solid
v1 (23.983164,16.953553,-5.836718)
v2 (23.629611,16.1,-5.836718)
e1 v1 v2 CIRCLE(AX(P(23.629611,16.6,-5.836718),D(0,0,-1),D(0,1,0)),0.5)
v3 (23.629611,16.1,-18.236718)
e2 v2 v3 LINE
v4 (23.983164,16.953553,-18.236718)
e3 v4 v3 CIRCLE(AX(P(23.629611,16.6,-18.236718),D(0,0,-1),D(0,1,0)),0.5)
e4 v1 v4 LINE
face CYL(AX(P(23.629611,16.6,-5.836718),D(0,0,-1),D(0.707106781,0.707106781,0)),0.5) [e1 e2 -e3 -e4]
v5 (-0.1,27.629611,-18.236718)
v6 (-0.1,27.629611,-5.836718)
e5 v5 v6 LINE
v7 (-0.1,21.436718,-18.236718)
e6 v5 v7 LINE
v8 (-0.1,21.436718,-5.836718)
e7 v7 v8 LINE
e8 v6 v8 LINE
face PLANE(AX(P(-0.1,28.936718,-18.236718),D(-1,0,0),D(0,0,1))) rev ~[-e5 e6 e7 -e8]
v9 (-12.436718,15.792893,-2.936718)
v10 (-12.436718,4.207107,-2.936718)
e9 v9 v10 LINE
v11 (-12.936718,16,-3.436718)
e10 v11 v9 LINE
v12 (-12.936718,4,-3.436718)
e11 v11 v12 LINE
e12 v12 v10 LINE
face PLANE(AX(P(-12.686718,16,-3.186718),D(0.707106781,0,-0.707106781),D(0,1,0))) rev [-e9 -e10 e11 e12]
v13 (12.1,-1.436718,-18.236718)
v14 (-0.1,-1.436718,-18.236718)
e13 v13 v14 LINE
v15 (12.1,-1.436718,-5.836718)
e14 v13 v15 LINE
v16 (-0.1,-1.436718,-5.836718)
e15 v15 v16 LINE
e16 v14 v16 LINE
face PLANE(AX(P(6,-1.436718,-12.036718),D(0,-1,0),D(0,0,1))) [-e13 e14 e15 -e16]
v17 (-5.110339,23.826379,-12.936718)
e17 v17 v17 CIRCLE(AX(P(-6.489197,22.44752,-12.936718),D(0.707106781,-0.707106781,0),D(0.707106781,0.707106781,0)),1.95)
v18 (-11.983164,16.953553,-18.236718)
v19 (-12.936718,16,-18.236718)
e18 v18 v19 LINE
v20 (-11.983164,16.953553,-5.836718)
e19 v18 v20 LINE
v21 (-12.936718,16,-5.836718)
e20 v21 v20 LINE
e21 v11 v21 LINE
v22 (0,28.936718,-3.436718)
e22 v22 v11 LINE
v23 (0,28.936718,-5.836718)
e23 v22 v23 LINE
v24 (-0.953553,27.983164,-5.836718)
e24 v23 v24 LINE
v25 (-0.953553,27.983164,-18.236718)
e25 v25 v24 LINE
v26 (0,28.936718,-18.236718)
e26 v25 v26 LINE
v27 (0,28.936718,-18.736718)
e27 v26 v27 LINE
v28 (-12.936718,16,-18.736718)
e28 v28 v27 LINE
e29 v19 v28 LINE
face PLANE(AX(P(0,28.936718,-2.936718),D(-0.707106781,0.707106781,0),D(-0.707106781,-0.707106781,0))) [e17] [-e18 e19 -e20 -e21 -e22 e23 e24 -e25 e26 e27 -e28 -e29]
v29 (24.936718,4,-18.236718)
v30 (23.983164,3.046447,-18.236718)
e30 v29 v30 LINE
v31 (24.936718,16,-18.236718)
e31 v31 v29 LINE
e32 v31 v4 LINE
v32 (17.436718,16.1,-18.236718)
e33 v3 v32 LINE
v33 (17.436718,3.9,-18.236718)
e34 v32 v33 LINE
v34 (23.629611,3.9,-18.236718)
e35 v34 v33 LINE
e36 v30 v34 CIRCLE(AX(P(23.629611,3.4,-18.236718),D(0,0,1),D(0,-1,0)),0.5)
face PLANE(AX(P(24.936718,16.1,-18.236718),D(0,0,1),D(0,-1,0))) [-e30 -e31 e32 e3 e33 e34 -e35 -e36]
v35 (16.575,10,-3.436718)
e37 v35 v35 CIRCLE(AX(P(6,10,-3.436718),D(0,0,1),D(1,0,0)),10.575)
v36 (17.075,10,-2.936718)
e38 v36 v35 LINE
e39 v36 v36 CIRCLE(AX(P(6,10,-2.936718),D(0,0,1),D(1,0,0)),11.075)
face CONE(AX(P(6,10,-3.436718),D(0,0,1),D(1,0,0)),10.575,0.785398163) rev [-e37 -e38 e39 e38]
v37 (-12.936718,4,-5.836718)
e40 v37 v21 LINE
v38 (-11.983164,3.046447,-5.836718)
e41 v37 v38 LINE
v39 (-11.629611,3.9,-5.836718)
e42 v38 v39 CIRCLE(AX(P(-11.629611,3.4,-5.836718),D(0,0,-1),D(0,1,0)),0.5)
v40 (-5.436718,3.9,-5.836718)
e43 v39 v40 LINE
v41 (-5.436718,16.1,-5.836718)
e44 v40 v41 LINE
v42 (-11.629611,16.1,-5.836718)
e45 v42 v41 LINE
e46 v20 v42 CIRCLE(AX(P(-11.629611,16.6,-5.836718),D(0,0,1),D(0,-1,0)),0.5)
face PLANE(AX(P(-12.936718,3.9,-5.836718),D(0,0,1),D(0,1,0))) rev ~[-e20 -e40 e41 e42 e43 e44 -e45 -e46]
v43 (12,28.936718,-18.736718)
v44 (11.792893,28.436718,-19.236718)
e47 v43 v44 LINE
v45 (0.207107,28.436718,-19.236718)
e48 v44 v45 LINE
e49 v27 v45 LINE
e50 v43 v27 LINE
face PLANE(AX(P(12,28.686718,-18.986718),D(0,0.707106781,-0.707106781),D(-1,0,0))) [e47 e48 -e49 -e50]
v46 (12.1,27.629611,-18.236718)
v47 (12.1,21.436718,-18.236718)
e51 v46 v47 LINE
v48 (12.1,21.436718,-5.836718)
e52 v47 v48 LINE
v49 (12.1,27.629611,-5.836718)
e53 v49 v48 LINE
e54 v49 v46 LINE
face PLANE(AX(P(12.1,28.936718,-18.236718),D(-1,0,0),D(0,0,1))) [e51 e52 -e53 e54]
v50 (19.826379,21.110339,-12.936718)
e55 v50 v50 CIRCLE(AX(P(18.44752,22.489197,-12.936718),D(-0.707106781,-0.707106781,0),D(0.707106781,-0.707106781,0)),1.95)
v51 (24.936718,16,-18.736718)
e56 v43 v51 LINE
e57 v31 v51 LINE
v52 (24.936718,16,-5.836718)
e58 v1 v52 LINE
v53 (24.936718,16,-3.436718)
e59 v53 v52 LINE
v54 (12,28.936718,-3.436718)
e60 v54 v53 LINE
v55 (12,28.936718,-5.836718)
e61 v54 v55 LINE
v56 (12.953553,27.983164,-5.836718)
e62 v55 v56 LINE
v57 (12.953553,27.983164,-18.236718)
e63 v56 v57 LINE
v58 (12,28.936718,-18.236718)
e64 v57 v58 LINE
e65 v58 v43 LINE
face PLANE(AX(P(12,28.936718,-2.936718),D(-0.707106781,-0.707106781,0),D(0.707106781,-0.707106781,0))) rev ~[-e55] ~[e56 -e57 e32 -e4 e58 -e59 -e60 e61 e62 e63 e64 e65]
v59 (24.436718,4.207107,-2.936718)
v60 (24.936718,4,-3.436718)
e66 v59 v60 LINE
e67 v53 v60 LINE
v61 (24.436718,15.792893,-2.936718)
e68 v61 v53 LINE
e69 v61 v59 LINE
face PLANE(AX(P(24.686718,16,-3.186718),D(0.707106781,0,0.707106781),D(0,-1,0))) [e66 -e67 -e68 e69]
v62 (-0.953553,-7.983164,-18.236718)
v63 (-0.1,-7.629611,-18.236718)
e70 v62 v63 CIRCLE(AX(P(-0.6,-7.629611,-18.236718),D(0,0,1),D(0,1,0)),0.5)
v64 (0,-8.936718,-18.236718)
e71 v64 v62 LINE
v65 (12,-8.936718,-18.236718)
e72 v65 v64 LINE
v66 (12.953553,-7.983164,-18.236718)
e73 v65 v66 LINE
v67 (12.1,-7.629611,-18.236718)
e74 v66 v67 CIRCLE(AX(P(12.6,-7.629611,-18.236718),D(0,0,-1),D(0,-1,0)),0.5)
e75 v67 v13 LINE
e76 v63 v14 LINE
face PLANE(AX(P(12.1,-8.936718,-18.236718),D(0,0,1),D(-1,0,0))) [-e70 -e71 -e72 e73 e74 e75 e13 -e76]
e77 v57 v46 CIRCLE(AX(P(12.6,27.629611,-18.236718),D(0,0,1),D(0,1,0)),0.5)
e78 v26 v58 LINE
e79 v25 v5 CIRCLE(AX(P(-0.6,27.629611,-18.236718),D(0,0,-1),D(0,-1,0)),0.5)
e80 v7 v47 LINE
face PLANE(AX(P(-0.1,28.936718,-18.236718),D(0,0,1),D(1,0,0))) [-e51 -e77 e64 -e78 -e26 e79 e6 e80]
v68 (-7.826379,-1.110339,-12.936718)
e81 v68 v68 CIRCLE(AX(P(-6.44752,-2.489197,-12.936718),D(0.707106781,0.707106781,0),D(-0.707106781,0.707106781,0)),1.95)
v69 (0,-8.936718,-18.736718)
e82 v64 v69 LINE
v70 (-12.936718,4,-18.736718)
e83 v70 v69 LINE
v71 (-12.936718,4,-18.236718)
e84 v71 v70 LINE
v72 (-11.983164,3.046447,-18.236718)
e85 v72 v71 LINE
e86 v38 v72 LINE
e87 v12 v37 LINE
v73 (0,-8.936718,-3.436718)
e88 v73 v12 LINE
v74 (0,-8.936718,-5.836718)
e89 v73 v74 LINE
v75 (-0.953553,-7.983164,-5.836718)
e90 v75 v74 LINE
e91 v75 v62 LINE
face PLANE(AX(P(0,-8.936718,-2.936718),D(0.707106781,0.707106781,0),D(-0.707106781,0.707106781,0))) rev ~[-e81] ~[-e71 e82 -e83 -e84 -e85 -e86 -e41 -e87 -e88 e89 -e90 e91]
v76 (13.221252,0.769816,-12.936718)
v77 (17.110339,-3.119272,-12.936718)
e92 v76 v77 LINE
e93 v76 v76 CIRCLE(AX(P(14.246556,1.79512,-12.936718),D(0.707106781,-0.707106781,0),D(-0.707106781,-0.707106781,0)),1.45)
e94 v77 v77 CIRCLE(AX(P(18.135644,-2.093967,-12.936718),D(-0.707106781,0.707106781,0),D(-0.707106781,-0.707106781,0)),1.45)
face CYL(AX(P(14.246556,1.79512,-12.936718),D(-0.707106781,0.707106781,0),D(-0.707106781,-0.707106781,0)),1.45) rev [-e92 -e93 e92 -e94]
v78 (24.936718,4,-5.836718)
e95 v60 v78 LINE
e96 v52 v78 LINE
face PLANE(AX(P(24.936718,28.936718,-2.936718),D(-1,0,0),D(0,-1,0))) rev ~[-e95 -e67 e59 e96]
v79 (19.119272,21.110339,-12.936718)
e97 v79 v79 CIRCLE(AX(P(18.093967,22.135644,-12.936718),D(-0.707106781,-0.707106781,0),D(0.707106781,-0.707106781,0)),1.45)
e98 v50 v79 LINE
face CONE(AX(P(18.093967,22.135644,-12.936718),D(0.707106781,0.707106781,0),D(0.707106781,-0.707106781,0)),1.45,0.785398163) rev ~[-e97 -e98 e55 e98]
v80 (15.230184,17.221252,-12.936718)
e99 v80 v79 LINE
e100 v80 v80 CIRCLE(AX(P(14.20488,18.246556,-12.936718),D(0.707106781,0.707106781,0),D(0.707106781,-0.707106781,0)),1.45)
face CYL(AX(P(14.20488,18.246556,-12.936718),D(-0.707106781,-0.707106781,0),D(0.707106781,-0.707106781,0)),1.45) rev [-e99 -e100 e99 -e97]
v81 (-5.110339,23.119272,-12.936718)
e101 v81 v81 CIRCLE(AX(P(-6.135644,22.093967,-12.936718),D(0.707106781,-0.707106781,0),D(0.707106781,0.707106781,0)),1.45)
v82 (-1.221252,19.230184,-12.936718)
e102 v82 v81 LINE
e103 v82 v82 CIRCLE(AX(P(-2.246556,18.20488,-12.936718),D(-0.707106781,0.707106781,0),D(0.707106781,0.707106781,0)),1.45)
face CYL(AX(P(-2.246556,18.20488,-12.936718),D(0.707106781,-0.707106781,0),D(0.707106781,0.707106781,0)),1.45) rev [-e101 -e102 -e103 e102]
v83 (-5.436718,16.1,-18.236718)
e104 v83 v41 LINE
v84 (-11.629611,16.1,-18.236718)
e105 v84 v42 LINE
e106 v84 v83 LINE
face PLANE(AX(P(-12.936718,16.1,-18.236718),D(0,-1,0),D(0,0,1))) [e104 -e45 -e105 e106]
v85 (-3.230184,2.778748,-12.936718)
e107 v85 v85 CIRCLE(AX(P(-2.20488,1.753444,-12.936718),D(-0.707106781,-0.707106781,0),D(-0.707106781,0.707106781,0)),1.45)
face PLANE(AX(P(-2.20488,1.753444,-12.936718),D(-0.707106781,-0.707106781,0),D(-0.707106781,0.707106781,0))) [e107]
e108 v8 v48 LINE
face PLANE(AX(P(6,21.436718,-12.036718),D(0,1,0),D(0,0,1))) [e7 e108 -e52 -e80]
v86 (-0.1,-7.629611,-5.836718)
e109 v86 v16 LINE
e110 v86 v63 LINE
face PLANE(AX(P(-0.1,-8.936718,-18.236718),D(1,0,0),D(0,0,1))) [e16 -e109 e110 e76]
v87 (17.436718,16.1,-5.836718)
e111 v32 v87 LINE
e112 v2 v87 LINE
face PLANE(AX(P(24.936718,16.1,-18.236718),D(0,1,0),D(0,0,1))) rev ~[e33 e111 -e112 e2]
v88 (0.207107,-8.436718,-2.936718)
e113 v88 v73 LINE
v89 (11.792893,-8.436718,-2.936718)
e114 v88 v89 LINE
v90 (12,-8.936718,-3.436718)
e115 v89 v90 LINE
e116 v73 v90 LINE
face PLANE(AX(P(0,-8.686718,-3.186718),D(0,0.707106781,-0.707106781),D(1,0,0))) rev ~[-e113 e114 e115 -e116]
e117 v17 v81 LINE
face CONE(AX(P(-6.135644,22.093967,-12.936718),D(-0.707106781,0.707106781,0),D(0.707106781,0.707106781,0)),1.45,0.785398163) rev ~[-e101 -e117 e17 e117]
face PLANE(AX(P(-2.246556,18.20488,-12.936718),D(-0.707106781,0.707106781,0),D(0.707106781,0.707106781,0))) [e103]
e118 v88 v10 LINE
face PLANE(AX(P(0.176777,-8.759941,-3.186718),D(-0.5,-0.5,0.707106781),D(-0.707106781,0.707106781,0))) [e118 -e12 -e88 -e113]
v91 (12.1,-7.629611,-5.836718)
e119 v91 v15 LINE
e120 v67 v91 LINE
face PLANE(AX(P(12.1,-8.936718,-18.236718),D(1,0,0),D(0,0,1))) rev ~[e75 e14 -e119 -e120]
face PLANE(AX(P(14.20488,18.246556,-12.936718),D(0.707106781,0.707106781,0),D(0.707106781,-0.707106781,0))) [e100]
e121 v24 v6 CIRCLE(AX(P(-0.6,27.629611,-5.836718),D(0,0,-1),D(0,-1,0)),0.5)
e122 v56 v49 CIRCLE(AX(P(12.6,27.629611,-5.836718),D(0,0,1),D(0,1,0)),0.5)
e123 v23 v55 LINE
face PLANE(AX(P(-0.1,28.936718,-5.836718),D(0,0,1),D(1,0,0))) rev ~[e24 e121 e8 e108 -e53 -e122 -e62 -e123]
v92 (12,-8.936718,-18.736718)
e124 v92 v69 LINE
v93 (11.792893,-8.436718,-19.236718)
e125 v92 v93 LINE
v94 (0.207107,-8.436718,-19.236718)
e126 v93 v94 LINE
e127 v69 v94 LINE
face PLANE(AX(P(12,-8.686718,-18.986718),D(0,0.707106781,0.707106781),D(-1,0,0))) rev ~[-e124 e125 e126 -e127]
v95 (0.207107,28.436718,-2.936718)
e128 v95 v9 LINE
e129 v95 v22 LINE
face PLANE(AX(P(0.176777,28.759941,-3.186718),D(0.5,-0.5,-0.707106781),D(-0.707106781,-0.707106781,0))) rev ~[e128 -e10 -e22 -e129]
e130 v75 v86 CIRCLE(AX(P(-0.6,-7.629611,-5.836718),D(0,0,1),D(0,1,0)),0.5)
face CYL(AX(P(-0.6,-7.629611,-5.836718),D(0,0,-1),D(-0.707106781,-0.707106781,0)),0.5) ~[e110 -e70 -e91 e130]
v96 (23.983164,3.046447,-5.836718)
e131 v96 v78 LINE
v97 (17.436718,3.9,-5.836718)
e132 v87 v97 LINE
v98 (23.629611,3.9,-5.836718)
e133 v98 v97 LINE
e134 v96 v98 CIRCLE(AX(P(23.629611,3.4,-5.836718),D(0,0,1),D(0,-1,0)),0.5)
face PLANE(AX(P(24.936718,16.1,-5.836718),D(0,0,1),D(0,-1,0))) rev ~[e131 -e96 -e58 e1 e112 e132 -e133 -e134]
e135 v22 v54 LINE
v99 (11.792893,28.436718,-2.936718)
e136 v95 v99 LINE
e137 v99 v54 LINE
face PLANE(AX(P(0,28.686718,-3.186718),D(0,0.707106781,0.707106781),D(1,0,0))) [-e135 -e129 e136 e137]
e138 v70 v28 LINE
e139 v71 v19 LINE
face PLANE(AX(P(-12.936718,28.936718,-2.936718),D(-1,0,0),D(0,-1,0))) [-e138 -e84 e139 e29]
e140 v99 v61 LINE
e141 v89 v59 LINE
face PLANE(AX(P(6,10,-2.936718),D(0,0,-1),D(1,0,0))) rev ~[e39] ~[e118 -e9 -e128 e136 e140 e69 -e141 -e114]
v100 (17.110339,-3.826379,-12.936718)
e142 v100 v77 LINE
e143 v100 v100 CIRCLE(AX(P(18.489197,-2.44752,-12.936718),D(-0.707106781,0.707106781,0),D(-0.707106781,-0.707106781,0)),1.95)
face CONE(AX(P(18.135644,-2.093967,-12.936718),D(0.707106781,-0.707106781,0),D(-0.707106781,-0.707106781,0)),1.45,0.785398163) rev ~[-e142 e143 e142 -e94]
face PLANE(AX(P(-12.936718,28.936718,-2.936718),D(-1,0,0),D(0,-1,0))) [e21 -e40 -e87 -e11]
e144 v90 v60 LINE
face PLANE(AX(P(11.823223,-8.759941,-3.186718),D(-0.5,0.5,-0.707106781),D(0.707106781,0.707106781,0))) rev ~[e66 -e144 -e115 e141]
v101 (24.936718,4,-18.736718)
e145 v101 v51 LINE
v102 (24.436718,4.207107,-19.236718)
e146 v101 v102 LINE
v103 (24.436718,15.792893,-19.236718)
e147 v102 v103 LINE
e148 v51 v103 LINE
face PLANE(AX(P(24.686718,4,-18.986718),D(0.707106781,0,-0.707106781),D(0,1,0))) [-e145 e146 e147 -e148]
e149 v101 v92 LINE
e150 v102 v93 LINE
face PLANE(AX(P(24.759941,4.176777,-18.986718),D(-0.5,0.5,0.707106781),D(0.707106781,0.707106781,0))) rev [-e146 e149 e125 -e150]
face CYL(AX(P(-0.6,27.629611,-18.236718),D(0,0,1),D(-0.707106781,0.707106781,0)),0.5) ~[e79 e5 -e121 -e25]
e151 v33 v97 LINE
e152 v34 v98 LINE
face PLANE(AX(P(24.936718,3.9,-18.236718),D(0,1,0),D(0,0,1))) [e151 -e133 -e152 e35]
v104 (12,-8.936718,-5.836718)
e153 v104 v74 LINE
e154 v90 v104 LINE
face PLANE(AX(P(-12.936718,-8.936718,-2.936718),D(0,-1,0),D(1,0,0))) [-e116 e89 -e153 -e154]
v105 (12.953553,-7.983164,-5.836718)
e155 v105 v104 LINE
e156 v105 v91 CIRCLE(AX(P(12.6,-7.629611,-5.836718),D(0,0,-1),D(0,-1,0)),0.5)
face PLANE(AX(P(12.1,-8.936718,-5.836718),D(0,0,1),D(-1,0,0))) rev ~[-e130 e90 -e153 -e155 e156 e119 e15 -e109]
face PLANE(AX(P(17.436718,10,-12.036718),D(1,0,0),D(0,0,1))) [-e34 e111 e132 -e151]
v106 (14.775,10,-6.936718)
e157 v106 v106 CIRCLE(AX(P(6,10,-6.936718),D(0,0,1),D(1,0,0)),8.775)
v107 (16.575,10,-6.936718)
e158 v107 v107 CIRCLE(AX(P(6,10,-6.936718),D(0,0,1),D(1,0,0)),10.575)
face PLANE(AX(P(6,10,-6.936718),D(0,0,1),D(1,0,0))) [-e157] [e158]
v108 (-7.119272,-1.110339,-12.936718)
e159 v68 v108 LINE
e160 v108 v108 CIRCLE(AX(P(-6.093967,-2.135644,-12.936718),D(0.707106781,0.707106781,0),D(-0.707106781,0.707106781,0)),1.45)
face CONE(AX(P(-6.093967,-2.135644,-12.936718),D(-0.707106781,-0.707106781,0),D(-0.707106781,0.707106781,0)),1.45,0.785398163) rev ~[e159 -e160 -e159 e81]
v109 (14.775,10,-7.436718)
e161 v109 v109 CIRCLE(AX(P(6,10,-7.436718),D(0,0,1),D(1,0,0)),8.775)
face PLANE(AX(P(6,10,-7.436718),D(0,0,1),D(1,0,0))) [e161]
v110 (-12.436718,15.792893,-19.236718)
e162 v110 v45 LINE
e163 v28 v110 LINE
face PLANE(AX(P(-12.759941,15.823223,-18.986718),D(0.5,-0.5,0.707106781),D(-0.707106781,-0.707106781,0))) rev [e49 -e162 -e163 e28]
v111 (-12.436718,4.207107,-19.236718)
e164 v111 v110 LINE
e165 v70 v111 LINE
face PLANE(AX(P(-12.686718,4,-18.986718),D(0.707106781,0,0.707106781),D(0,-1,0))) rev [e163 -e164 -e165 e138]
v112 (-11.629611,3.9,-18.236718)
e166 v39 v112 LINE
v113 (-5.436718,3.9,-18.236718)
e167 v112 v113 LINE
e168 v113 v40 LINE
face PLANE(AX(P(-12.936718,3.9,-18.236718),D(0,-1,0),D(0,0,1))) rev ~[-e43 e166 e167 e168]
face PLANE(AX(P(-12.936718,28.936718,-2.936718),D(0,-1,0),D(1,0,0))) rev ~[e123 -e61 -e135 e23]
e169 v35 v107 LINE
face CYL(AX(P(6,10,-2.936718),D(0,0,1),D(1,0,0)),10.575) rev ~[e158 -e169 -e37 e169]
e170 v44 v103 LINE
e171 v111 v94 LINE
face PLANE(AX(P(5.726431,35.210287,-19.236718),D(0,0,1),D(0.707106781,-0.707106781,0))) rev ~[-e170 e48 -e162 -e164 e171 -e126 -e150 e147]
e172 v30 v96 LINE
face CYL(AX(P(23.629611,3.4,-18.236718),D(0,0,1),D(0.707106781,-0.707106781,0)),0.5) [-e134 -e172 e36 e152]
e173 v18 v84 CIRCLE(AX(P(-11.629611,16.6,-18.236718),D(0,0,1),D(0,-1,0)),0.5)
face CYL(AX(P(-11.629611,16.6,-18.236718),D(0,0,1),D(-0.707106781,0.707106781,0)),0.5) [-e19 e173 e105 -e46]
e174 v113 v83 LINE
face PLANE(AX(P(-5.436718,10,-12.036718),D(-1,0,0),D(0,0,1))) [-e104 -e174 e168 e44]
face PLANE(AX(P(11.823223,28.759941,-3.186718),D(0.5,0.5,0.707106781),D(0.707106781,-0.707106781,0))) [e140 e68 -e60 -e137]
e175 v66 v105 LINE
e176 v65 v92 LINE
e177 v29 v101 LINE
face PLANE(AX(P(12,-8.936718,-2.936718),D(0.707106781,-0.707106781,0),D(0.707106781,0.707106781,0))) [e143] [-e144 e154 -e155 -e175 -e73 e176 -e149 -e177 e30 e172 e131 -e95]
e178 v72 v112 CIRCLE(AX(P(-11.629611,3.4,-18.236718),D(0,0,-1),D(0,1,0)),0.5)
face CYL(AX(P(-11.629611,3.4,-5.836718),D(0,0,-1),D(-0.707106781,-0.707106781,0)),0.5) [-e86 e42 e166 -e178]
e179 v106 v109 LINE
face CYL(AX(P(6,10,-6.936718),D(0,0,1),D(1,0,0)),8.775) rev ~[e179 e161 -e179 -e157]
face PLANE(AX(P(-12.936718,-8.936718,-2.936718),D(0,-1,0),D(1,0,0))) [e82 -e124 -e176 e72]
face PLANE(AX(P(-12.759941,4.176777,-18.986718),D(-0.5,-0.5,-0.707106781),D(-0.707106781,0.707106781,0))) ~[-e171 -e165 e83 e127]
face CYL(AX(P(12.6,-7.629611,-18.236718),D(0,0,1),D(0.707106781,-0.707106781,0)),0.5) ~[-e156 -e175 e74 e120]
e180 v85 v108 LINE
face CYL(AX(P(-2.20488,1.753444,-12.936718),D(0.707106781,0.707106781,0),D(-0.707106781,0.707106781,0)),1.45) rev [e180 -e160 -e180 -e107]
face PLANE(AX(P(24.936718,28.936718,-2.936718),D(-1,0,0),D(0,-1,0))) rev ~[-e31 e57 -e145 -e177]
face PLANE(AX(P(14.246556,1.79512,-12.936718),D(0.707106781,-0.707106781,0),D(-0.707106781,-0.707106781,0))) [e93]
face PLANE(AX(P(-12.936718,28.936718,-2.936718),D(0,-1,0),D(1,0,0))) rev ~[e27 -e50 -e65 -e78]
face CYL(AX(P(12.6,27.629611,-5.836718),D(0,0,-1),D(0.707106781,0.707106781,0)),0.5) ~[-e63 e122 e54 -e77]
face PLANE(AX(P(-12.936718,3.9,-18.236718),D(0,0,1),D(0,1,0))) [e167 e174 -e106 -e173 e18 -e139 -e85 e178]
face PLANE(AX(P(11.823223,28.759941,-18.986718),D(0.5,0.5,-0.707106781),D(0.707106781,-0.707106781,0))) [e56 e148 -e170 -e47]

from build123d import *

# Parameters (mm, degrees)
SKIZZE1_W                          = 37.873435046
SKIZZE1_H                          = 37.873435047
AUFSATZ_LINEAR_AUSTRAGEN1_DEPTH    = 20
SKIZZE2_R                          = 10.575
SCHNITT_LINEAR_AUSTRAGEN1_DEPTH    = 4
SKIZZE3_W                          = 12
SKIZZE3_H                          = 12
SCHNITT_LINEAR_AUSTRAGEN3_DEPTH    = 7.5
VERRUNDUNG1_R                      = 8
KREISMUSTER1_COUNT                 = 4
SKIZZE4_R                          = 8.775
SCHNITT_LINEAR_AUSTRAGEN4_DEPTH    = 0.5
K_RPER_VERSCHIEBEN_KOPIEREN1_ANGLE = 90
SCHNITT_LINEAR_AUSTRAGEN5_DEPTH    = 21
SCHNITT_LINEAR_START               = -6
SKIZZE6_R                          = 1.45
SCHNITT_LINEAR_AUSTRAGEN6_DEPTH    = 16
KREISMUSTER2_COUNT                 = 4
SKIZZE7_W                          = 35.652729611
SKIZZE7_H                          = 9.273531579
SCHNITT_LINEAR_AUSTRAGEN8_DEPTH    = 45.41348481
SKIZZE8_W                          = 12.4
SKIZZE8_H                          = 12.2
SCHNITT_LINEAR_AUSTRAGEN9_DEPTH    = 7.5
KREISMUSTER11_COUNT                = 4
FASE1_SIZE                         = 0.5
VERRUNDUNG2_R                      = 0.5


with BuildPart() as part:
    # Skizze1 → Aufsatz-Linear austragen1 (new body)
    with BuildSketch(Plane(origin=(0, 0, 0), x_dir=(1, 0, 0), z_dir=(0, 1, 0))):
        with Locations((6, 12.936717524)):
            Rectangle(SKIZZE1_W, SKIZZE1_H)
    extrude(amount=AUFSATZ_LINEAR_AUSTRAGEN1_DEPTH)

    # Skizze2 → Schnitt-Linear austragen1 (cut)
    with BuildSketch(Plane.XZ):
        with Locations((6, -12.936717523)):
            Circle(SKIZZE2_R)
    extrude(amount=-SCHNITT_LINEAR_AUSTRAGEN1_DEPTH, mode=Mode.SUBTRACT)

    # Skizze3 → Schnitt-Linear austragen3 (cut)
    with BuildSketch(Plane.XY.offset(6)):
        with Locations((6, 9.2)):
            Rectangle(SKIZZE3_W, SKIZZE3_H)
    schnitt_linear_austragen3 = extrude(amount=-SCHNITT_LINEAR_AUSTRAGEN3_DEPTH, mode=Mode.SUBTRACT)

    # Verrundung1
    verrundung1_edges = [part.edges().sort_by_distance(p)[0] for p in [
        (24.936717523, 10, -31.873435047),
        (24.936717523, 10, 6),
        (-12.936717523, 10, 6),
        (-12.936717523, 10, -31.873435047),
    ]]
    fillet(verrundung1_edges, radius=VERRUNDUNG1_R)

    # Kreismuster1: Schnitt-Linear austragen3 ×4 about axis
    kreismuster1_axis = Axis((6, 0, -12.936717523), (0, 1, 0))
    for i in range(1, KREISMUSTER1_COUNT):
        add(schnitt_linear_austragen3.rotate(kreismuster1_axis, i * 360 / KREISMUSTER1_COUNT), mode=Mode.SUBTRACT)

    # Skizze4 → Schnitt-Linear austragen4 (cut)
    with BuildSketch(Plane.XZ.offset(-4)):
        with Locations((6, -12.936717523)):
            Circle(SKIZZE4_R)
    extrude(amount=-SCHNITT_LINEAR_AUSTRAGEN4_DEPTH, mode=Mode.SUBTRACT)


with BuildPart() as part_1:
    # Körper-Verschieben/Kopieren1: moved
    add(part.part.rotate(Axis((0, 10, -12.936717523), (-1, 0, 0)), K_RPER_VERSCHIEBEN_KOPIEREN1_ANGLE))

    # Skizze5 → Schnitt-Linear austragen5 (cut, through all)
    with BuildSketch(Plane.XY.offset(-2.936717523)):
        Polygon((0, 28.936717523), (-12.936717523, 16), (-12.936717523, 28.936717523), align=None)
        Polygon((24.936717523, 16), (24.936717523, 28.936717523), (12, 28.936717523), align=None)
        Polygon((12, -8.936717523), (24.936717523, 4), (24.936717523, -8.936717523), align=None)
        Polygon((-12.936717523, -8.936717523), (0, -8.936717523), (-12.936717523, 4), align=None)
    extrude(amount=-SCHNITT_LINEAR_AUSTRAGEN5_DEPTH, mode=Mode.SUBTRACT)

    # Skizze6 → Schnitt-Linear austragen6 (cut)
    with BuildSketch(Plane(origin=(-14.468358762, 14.468358762, 0), x_dir=(0.707106781, 0.707106781, 0), z_dir=(-0.707106781, 0.707106781, 0)).offset(SCHNITT_LINEAR_START)):
        with Locations((11.284238529, 12.936717523)):
            Circle(SKIZZE6_R)
    schnitt_linear_austragen6 = extrude(amount=SCHNITT_LINEAR_AUSTRAGEN6_DEPTH, mode=Mode.SUBTRACT)

    # Kreismuster2: Schnitt-Linear austragen6 ×4 about axis
    kreismuster2_axis = Axis((6, 10, 0), (0, 0, 1))
    for i in range(1, KREISMUSTER2_COUNT):
        add(schnitt_linear_austragen6.rotate(kreismuster2_axis, i * 360 / KREISMUSTER2_COUNT), mode=Mode.SUBTRACT)

    # Skizze7 → Schnitt-Linear austragen8 (cut, through all)
    with BuildSketch(Plane(origin=(20.468358762, 20.468358762, 0), x_dir=(0.707106781, -0.707106781, 0), z_dir=(0.707106781, 0.707106781, 0))):
        with Locations((-3.021869868, 23.873483313)):
            Rectangle(SKIZZE7_W, SKIZZE7_H)
    extrude(amount=-SCHNITT_LINEAR_AUSTRAGEN8_DEPTH, mode=Mode.SUBTRACT)

    # Skizze8 → Schnitt-Linear austragen9 (cut)
    with BuildSketch(Plane.ZY.offset(12.936717523)):
        with Locations((-12.036717523, 10)):
            Rectangle(SKIZZE8_W, SKIZZE8_H)
    schnitt_linear_austragen9 = extrude(amount=-SCHNITT_LINEAR_AUSTRAGEN9_DEPTH, mode=Mode.SUBTRACT)

    # Kreismuster11: Schnitt-Linear austragen9 ×4 about axis
    kreismuster11_axis = Axis((6, 10, 0), (0, 0, 1))
    for i in range(1, KREISMUSTER11_COUNT):
        add(schnitt_linear_austragen9.rotate(kreismuster11_axis, i * 360 / KREISMUSTER11_COUNT), mode=Mode.SUBTRACT)

    # Fase1
    fase1_edges = [part_1.edges().sort_by_distance(p)[0] for p in [
        (-12.936717523, 10, -2.936717523),
        (6, -8.936717523, -2.936717523),
        (24.936717523, 10, -2.936717523),
        (6, 28.936717523, -2.936717523),
        (-6.468358762, -2.468358762, -2.936717523),
        (18.468358762, -2.468358762, -2.936717523),
        (18.468358762, 22.468358762, -2.936717523),
        (-4.575, 10, -2.936717523),
        (-6.468358762, 22.468358762, -2.936717523),
        (-7.51450201, 21.422215513, -12.936717523),
        (-5.422215513, -3.51450201, -12.936717523),
        (19.51450201, -1.422215513, -12.936717523),
        (17.422215513, 23.51450201, -12.936717523),
        (-6.468358762, 22.468358762, -19.236717523),
        (18.468358762, 22.468358762, -19.236717523),
        (18.468358762, -2.468358762, -19.236717523),
        (24.936717523, 10, -19.236717523),
        (6, 28.936717523, -19.236717523),
        (-12.936717523, 10, -19.236717523),
        (-6.468358762, -2.468358762, -19.236717523),
        (6, -8.936717523, -19.236717523),
    ]]
    chamfer(fase1_edges, length=FASE1_SIZE)

    # Verrundung2
    verrundung2_edges = [part_1.edges().sort_by_distance(p)[0] for p in [
        (-12.836717523, 16.1, -12.036717523),
        (-12.836717523, 3.9, -12.036717523),
        (-0.1, 28.836717523, -12.036717523),
        (12.1, 28.836717523, -12.036717523),
        (24.836717523, 16.1, -12.036717523),
        (-0.1, -8.836717523, -12.036717523),
        (24.836717523, 3.9, -12.036717523),
        (12.1, -8.836717523, -12.036717523),
    ]]
    fillet(verrundung2_edges, radius=VERRUNDUNG2_R)


solid = part_1.part
